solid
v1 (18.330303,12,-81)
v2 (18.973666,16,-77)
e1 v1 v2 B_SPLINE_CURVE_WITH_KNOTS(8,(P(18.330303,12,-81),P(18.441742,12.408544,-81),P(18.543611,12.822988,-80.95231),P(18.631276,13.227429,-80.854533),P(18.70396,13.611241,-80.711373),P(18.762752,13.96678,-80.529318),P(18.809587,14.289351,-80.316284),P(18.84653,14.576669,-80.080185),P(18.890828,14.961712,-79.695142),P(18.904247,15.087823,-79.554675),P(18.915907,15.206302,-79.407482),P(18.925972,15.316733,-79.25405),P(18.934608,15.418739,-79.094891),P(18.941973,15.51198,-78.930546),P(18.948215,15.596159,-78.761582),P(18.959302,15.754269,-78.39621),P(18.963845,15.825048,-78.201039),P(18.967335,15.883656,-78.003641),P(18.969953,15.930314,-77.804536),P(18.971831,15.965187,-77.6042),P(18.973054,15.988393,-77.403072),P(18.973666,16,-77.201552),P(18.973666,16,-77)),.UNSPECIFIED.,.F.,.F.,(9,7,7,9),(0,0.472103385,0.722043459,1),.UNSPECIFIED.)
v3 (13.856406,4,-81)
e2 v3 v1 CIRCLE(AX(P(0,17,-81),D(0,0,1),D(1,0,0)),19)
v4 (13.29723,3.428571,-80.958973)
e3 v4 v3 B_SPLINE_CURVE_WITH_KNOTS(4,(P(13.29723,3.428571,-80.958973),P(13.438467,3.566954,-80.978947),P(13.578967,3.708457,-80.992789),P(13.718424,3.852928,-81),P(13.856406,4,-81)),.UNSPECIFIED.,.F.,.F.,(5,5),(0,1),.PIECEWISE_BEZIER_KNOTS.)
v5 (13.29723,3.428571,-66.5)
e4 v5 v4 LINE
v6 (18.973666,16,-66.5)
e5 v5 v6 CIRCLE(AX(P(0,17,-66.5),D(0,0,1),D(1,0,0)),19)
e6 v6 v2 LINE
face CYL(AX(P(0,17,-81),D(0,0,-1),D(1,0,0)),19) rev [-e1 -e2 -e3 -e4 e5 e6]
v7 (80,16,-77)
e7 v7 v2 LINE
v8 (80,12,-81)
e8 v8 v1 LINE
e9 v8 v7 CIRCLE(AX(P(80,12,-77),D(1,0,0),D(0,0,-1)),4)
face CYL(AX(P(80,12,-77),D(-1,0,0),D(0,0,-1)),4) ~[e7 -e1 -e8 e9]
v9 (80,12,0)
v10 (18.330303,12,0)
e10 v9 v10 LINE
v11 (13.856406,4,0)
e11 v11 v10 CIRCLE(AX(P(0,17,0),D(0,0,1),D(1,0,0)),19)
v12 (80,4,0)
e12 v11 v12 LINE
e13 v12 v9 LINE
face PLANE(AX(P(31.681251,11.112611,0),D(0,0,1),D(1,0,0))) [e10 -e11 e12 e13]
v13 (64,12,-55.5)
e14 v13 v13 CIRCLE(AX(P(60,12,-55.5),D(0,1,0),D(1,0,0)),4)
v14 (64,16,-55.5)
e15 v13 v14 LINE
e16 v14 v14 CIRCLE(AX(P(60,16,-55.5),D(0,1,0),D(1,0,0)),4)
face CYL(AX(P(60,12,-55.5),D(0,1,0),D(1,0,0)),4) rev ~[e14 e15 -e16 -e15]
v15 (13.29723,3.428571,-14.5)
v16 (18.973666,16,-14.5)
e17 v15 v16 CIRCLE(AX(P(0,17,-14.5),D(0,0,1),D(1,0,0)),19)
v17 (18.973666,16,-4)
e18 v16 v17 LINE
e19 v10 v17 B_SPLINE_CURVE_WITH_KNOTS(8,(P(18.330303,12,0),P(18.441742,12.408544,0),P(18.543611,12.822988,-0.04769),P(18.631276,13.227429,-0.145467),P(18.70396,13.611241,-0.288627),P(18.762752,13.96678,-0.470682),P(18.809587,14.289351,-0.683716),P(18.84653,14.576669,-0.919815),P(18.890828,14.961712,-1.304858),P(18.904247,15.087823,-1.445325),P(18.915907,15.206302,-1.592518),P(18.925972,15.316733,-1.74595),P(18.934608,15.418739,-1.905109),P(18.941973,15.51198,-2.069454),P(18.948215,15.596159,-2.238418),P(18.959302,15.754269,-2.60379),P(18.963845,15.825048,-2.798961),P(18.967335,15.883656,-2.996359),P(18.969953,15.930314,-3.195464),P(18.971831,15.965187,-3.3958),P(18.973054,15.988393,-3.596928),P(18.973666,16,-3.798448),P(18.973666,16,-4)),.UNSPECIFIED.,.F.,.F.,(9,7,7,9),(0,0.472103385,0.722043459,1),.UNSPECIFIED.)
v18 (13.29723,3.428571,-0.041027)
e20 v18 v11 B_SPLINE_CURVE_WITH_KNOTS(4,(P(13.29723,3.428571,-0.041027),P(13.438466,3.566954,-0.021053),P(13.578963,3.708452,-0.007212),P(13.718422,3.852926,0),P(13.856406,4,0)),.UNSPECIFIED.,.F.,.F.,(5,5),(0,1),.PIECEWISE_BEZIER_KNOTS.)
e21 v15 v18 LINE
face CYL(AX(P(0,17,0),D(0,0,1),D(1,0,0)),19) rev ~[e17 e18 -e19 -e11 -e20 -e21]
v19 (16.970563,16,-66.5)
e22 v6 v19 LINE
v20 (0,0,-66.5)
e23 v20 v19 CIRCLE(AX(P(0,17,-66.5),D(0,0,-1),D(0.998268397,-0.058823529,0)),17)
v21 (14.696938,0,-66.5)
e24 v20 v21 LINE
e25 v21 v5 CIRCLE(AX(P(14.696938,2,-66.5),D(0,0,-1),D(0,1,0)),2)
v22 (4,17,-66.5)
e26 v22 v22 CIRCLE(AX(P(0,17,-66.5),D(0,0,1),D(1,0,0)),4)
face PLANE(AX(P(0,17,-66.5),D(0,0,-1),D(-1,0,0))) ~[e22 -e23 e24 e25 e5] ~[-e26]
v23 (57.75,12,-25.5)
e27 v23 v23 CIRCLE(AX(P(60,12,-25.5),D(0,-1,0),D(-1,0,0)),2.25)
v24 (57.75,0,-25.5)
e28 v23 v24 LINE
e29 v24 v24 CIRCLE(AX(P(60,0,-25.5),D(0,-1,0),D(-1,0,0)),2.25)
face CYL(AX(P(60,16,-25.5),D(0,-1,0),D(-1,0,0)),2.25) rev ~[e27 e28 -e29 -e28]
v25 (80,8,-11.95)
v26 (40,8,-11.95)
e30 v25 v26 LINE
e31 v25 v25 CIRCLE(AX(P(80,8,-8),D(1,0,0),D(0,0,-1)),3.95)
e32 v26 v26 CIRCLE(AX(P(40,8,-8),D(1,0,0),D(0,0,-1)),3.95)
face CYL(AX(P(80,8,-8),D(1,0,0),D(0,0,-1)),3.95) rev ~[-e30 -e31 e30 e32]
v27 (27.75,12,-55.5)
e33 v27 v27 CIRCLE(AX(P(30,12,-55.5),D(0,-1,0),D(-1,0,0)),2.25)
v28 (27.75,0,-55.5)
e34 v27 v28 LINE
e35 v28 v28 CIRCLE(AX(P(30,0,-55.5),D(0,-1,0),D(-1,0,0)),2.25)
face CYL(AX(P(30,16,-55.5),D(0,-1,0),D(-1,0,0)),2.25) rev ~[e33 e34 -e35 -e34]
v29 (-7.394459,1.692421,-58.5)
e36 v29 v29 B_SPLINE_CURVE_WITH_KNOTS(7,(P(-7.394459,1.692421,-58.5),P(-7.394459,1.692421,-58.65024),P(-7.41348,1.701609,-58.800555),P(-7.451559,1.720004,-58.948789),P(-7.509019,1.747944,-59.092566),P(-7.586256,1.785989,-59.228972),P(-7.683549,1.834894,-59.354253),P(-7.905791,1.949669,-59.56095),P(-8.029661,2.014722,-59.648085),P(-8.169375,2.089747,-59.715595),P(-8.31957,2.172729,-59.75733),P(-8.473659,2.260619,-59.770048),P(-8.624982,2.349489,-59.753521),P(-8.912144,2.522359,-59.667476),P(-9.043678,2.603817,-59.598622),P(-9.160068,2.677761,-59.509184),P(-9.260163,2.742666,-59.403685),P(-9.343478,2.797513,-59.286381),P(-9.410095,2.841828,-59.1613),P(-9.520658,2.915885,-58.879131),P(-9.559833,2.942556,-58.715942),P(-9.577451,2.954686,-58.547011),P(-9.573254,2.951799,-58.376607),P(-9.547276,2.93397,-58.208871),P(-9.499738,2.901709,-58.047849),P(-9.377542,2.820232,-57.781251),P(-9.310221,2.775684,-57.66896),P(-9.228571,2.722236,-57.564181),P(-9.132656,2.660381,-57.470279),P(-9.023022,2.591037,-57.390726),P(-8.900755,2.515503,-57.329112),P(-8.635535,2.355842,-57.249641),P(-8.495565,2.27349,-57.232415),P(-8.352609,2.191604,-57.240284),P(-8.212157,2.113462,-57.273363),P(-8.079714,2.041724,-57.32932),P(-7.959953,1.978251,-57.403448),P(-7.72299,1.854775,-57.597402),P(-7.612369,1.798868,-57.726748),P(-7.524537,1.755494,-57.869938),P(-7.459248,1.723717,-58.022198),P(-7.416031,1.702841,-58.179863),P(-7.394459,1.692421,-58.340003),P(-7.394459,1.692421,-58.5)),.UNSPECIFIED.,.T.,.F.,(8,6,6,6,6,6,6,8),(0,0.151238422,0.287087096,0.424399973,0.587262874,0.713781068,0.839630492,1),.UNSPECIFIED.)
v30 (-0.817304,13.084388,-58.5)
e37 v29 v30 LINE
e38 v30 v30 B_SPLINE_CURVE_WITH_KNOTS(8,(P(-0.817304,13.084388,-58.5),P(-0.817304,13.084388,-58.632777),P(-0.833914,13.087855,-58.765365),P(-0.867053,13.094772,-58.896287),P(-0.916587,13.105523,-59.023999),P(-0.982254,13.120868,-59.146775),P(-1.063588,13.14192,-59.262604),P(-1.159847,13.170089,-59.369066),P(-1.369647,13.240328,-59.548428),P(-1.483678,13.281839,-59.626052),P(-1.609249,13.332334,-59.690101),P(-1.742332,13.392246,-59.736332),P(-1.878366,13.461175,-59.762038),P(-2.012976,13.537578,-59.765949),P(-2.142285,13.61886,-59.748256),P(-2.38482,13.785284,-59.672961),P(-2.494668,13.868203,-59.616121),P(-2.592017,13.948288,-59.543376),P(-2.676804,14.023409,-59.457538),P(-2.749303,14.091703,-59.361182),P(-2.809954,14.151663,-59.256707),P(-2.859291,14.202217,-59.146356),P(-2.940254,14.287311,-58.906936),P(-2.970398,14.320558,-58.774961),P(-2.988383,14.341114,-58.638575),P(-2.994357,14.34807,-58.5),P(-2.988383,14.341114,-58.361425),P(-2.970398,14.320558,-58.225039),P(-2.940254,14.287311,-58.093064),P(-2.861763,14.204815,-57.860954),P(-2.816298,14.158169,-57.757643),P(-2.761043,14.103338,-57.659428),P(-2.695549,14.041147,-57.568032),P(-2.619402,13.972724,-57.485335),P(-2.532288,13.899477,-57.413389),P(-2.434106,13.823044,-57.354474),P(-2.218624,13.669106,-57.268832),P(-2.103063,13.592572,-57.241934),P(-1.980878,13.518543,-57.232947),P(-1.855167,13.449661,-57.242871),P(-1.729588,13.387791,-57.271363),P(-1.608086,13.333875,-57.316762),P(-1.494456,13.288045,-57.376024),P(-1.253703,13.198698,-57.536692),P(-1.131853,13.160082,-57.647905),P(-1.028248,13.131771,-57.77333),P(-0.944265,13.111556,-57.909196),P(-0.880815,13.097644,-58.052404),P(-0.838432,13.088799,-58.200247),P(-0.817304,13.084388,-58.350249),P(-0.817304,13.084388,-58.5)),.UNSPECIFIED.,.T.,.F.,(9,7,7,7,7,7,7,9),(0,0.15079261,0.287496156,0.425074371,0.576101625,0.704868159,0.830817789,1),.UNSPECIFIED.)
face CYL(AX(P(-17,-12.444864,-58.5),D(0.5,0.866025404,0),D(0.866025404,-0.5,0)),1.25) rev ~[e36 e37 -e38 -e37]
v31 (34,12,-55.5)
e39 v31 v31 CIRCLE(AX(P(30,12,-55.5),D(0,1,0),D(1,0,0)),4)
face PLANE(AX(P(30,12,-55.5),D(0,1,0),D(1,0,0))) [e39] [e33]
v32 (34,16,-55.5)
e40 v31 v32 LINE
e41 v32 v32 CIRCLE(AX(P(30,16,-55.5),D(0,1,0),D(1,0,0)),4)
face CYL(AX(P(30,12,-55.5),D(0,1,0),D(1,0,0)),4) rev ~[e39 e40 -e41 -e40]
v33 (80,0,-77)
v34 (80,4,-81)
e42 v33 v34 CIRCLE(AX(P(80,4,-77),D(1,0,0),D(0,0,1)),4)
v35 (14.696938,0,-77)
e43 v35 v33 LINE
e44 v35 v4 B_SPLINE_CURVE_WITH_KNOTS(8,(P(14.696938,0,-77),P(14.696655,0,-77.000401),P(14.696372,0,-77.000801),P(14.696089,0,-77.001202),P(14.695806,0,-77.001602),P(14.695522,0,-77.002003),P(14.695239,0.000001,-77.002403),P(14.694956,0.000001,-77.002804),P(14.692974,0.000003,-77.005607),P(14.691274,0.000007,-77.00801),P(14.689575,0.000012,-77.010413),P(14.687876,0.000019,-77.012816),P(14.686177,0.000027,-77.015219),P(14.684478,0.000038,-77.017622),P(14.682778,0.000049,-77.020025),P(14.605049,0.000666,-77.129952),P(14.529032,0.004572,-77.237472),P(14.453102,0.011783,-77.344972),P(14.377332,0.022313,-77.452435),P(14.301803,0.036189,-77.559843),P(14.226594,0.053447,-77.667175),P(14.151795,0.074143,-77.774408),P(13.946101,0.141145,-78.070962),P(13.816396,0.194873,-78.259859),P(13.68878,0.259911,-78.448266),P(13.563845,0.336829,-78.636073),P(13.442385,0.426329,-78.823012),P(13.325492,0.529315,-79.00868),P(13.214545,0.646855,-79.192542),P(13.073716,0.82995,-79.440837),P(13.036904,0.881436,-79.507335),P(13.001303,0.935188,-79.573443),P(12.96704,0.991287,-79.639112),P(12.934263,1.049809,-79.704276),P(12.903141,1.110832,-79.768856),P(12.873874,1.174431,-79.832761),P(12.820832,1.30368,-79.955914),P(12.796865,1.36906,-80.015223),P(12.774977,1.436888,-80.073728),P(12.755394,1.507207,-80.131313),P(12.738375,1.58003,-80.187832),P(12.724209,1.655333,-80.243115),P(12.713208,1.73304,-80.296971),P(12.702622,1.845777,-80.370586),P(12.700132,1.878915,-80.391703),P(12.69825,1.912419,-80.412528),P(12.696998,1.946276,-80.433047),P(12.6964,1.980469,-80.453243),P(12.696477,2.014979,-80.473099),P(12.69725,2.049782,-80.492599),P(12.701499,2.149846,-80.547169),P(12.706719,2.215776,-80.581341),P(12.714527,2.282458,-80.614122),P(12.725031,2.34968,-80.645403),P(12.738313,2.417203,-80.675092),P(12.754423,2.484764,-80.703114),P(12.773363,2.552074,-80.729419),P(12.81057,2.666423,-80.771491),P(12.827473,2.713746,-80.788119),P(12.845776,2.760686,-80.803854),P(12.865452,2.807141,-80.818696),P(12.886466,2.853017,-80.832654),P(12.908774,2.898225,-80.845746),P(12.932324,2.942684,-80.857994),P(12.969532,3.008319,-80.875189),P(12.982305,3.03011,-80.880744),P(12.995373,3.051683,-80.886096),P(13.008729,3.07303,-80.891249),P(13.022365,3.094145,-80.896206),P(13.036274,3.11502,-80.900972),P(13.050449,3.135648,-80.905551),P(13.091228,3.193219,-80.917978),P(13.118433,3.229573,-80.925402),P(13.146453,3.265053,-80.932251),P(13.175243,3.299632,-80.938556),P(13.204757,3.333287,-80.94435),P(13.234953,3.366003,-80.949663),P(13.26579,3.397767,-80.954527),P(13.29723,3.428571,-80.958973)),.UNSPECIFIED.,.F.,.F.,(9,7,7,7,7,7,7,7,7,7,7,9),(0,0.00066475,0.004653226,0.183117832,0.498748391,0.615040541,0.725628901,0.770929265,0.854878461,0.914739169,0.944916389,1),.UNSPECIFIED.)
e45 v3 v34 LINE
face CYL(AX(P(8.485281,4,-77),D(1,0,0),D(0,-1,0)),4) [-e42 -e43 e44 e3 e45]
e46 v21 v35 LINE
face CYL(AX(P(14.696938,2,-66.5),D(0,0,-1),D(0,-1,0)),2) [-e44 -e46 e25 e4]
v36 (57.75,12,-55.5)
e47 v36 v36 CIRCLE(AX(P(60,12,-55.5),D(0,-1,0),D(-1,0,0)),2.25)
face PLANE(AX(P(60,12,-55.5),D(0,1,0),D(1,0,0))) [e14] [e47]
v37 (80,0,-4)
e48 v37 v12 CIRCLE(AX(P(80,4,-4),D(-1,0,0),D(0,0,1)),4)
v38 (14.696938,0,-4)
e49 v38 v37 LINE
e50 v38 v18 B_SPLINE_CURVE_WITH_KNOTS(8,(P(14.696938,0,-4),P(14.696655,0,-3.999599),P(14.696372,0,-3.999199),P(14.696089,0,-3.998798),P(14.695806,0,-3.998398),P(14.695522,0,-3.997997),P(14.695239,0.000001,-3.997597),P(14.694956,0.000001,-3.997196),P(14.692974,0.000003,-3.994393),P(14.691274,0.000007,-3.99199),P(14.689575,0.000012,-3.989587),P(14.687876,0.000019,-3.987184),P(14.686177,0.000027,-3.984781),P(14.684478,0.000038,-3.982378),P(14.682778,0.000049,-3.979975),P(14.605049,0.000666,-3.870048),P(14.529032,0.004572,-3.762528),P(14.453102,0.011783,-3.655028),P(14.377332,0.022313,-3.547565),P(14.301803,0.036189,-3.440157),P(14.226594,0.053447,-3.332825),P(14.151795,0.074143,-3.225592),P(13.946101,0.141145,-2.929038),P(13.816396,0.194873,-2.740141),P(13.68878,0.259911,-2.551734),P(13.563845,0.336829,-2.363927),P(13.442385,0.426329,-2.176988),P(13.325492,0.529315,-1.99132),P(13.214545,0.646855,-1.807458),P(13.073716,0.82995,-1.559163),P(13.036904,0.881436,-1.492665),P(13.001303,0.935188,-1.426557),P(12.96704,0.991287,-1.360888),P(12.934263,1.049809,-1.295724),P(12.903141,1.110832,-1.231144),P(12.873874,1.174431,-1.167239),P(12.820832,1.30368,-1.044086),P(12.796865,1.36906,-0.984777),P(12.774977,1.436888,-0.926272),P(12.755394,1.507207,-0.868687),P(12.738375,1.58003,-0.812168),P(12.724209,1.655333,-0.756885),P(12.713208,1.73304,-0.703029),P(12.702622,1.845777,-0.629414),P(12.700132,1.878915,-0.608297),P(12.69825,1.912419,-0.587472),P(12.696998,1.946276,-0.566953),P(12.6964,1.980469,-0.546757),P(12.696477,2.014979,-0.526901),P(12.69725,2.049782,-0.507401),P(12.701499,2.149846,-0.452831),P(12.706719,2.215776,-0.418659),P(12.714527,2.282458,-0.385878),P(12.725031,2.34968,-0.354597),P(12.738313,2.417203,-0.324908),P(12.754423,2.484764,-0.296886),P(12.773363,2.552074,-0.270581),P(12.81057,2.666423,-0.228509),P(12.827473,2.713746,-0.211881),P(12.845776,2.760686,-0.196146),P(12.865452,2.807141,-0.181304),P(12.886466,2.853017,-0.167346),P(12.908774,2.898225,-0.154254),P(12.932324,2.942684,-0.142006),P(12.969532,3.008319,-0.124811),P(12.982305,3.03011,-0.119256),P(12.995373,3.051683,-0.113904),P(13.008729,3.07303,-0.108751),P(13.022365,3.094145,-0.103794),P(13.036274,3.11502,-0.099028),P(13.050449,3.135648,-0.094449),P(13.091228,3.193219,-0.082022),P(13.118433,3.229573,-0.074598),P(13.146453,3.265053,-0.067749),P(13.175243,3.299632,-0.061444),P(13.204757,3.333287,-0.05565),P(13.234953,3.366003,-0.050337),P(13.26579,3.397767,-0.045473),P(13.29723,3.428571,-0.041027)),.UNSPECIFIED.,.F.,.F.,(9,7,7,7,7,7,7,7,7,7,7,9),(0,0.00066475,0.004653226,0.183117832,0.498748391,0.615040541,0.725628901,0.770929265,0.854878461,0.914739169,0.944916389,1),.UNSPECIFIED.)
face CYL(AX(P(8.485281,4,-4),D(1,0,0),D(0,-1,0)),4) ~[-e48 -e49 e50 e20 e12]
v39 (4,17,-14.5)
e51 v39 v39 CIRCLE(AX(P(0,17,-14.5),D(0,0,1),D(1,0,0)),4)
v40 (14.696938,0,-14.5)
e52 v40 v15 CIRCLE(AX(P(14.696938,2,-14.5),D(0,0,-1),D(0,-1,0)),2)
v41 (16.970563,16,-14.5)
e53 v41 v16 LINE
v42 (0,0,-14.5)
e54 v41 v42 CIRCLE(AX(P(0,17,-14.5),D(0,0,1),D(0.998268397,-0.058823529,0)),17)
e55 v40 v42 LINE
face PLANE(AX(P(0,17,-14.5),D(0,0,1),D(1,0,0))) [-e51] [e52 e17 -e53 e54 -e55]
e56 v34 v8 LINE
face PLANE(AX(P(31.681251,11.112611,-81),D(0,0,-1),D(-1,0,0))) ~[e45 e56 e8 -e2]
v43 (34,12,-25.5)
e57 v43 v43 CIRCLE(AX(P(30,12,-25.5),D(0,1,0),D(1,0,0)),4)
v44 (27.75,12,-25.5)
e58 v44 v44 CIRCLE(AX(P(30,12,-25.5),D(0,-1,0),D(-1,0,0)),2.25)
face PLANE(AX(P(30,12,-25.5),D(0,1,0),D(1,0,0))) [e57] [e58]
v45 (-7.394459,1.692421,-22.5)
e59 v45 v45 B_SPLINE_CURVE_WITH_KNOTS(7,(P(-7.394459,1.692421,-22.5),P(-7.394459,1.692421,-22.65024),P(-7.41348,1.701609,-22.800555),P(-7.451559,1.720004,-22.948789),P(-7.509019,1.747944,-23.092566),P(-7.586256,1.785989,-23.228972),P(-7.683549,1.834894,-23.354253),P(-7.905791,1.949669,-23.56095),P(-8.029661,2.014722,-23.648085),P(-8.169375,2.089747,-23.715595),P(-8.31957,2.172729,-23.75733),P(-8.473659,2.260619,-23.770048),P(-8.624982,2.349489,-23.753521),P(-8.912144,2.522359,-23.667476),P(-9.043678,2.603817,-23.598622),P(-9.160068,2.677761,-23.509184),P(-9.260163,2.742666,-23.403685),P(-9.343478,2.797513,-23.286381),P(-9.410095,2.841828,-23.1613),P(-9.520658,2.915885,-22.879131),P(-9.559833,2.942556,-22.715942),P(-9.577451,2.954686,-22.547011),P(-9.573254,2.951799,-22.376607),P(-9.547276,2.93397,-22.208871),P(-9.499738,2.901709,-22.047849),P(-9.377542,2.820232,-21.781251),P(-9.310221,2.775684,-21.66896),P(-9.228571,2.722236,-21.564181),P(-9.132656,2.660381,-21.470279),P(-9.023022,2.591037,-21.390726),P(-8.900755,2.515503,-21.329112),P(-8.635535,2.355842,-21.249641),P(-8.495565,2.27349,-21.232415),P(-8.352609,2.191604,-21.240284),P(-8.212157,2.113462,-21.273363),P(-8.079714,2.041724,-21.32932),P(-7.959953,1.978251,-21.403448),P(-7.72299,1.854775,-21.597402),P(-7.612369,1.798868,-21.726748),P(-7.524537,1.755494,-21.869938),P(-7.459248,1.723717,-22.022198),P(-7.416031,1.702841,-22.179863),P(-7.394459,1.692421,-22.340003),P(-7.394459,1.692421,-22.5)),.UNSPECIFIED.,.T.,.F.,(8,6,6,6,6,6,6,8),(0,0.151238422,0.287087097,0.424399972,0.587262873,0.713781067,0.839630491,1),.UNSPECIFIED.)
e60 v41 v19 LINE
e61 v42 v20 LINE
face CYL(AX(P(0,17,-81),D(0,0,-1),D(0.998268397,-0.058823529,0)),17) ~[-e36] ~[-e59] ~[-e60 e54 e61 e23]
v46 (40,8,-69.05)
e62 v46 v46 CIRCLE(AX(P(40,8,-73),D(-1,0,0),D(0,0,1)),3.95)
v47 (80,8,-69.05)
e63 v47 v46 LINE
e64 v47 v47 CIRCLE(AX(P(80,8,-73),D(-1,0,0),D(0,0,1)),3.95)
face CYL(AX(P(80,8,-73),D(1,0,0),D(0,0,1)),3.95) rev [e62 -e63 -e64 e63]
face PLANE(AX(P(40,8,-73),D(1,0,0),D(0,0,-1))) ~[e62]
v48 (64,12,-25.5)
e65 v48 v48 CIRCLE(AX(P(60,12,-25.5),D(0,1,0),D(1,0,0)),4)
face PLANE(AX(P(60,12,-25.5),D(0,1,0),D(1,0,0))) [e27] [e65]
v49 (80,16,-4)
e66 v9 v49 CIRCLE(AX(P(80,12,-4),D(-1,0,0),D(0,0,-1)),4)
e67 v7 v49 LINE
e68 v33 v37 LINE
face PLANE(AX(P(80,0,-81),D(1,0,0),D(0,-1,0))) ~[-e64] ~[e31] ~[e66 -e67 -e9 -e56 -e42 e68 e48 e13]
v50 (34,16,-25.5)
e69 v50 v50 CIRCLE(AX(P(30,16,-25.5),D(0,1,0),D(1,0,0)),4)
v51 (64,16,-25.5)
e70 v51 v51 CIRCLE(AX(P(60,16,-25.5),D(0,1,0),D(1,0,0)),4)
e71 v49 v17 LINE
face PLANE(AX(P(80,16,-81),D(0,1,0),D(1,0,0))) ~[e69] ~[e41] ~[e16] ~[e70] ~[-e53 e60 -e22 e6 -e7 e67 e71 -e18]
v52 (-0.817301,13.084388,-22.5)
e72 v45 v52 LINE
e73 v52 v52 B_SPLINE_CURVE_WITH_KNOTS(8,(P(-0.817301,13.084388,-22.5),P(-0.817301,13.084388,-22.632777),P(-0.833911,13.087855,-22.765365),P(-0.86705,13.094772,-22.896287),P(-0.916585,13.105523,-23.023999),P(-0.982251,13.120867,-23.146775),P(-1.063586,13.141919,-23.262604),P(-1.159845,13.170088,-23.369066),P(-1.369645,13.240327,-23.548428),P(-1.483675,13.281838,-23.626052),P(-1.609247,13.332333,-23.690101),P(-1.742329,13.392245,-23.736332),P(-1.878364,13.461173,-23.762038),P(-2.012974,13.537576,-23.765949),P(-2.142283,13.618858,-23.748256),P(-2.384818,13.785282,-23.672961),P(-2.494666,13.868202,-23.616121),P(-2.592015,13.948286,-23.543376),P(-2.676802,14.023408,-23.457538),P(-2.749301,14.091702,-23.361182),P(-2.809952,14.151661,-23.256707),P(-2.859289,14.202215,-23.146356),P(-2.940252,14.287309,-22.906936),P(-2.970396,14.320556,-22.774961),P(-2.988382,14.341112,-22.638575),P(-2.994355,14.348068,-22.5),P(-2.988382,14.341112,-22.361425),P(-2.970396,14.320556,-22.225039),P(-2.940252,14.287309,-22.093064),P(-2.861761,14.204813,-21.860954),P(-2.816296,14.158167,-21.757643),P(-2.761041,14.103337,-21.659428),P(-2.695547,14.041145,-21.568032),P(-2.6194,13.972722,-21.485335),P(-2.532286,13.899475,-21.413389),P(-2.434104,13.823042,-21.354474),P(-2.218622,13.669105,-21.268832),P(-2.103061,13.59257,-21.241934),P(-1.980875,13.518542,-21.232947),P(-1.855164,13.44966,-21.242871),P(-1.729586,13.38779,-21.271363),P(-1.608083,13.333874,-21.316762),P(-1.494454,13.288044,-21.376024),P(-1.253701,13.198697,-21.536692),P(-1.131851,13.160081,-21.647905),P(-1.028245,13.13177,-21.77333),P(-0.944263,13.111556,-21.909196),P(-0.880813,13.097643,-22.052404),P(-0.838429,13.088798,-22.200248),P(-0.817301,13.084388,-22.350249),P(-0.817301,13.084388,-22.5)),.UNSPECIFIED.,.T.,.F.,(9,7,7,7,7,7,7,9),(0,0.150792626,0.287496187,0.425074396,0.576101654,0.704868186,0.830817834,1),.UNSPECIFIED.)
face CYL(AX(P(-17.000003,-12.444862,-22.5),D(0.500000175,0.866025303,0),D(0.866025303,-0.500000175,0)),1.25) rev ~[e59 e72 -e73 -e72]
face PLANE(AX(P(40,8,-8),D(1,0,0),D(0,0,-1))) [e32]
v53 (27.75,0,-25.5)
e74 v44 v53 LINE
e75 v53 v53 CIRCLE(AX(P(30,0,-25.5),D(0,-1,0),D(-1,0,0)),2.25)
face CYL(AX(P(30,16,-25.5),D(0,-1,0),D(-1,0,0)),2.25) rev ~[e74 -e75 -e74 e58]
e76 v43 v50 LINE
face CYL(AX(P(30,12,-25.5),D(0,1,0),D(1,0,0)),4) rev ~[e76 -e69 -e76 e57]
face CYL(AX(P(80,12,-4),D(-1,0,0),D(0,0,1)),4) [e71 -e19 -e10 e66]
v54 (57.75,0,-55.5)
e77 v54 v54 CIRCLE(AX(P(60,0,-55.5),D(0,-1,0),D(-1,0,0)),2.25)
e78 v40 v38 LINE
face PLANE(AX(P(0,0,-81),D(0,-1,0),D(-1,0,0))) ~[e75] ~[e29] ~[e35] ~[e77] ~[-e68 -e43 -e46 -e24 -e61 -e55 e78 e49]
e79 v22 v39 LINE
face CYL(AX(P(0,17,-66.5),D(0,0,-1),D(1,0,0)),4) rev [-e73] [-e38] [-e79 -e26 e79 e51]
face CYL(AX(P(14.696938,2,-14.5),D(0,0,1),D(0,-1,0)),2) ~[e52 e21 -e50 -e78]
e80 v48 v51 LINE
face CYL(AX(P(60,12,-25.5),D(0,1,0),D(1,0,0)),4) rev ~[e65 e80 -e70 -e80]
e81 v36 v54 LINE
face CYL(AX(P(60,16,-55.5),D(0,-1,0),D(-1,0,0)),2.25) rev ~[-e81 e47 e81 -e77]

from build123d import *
from OCP.BRepFilletAPI import BRepFilletAPI_MakeFillet

# Parameters (mm, degrees)
BOSS_EXTRUDE2_DEPTH             = 40.5
SKETCH18_R                      = 19
CUT_EXTRUDE7_DEPTH              = 14.5
CUT_EXTRUDE8_REACH              = 92.73
SKETCH19_R                      = 4
SKETCH20_R                      = 3.95
CUT_EXTRUDE10_DEPTH             = 40
FILLET2_R1                      = 4
FILLET2_R2                      = 2
CBORE_FOR_M4_SHCS1_D            = 4.5
CBORE_FOR_M4_SHCS1_CBORE_D      = 8
CBORE_FOR_M4_SHCS1_CBORE_DEPTH  = 4
M3_TAPPED_HOLE1_D               = 2.5
M3_TAPPED_HOLE1_DEPTH           = 17
M3_TAPPED_HOLE1_ON_FACE_2_D     = 2.5
M3_TAPPED_HOLE1_ON_FACE_2_DEPTH = 17


with BuildPart() as part:
    # Sketch11 → Boss-Extrude2 (new body)
    with BuildSketch(Plane.XY):
        with BuildLine():
            Line((0, 0), (80, 0))
            Line((80, 0), (80, 16))
            Line((80, 16), (16.970562748, 16))
            ThreePointArc((16.970562748, 16), (-11.66190379, 29.369316877), (0, 0))
        make_face()
    boss_extrude2 = extrude(amount=-BOSS_EXTRUDE2_DEPTH)

    # Sketch18 → Cut-Extrude7 (cut)
    with BuildSketch(Plane.XY):
        with Locations((0, 17)):
            Circle(SKETCH18_R)
    cut_extrude7 = extrude(amount=-CUT_EXTRUDE7_DEPTH, mode=Mode.SUBTRACT)

    # Sketch19 → Cut-Extrude8 (cut, up to next)
    with BuildSketch(Plane.XY.offset(-14.5), mode=Mode.PRIVATE) as cut_extrude8_sk1:
        with Locations((0, 17)):
            Circle(SKETCH19_R)
    cut_extrude8_tool1 = extrude(cut_extrude8_sk1.sketch, amount=-CUT_EXTRUDE8_REACH, mode=Mode.PRIVATE) & part.part
    cut_extrude8 = cut_extrude8_tool1.solids().sort_by_distance((0, 17, -14.5))[0]
    add(cut_extrude8, mode=Mode.SUBTRACT)

    # Sketch20 → Cut-Extrude10 (cut)
    with BuildSketch(Plane(origin=(80, 0, 0), x_dir=(0, 0, -1), z_dir=(1, 0, 0))):
        with Locations((8, 8)):
            Circle(SKETCH20_R)
    cut_extrude10 = extrude(amount=-CUT_EXTRUDE10_DEPTH, mode=Mode.SUBTRACT)

    # Mirror2: Boss-Extrude2, Cut-Extrude7, Cut-Extrude8, Cut-Extrude10 across plane
    add(boss_extrude2.mirror(Plane(origin=(0, 17, -40.5), x_dir=(1, 0, 0), z_dir=(0, 0, -1))))
    add(cut_extrude7.mirror(Plane(origin=(0, 17, -40.5), x_dir=(1, 0, 0), z_dir=(0, 0, -1))), mode=Mode.SUBTRACT)
    add(cut_extrude8.mirror(Plane(origin=(0, 17, -40.5), x_dir=(1, 0, 0), z_dir=(0, 0, -1))), mode=Mode.SUBTRACT)
    add(cut_extrude10.mirror(Plane(origin=(0, 17, -40.5), x_dir=(1, 0, 0), z_dir=(0, 0, -1))), mode=Mode.SUBTRACT)

    # Fillet2: one fillet with a radius per group of edges: ONE call of the kernel's fillet builder (fillet() takes one radius for all edges)
    fillet2_edges_1 = [part.edges().sort_by_distance(p)[0] for p in [
        (44.242640687, 0, 0),
        (49.486832981, 16, -81),
        (49.486832981, 16, 0),
        (44.242640687, 0, -81),
    ]]
    fillet2_edges_2 = [part.edges().sort_by_distance(p)[0] for p in [
        (8.485281374, 0, -7.25),
        (8.485281374, 0, -73.75),
    ]]
    fillet2 = BRepFilletAPI_MakeFillet(part.part.solid().wrapped)
    for e in fillet2_edges_1:
        fillet2.Add(FILLET2_R1, e.wrapped)
    for e in fillet2_edges_2:
        fillet2.Add(FILLET2_R2, e.wrapped)
    add(Compound.cast(fillet2.Shape()), mode=Mode.REPLACE)

    # CBORE for M4 SHCS1 (through all)
    with Locations(Plane(origin=(0, 16, 0), x_dir=(1, 0, 0), z_dir=(0, 1, 0))):
        with Locations((60, 55.5), (60, 25.5), (30, 25.5), (30, 55.5)):
            CounterBoreHole(CBORE_FOR_M4_SHCS1_D / 2, CBORE_FOR_M4_SHCS1_CBORE_D / 2, CBORE_FOR_M4_SHCS1_CBORE_DEPTH)

    # M3 Tapped Hole1
    with Locations(Plane(origin=(-8.5, 2.277568136, -58.5), x_dir=(-0.866025403784, 0.5, 0), z_dir=(-0.5, -0.866025403784, 0))):
        with Locations((0, 0)):
            Hole(M3_TAPPED_HOLE1_D / 2, depth=M3_TAPPED_HOLE1_DEPTH)

    # M3 Tapped Hole1 on face 2
    with Locations(Plane(origin=(-8.5, 2.277568136, -22.5), x_dir=(-0.866025302838, 0.500000174844, 0), z_dir=(-0.500000174844, -0.866025302838, 0))):
        with Locations((0, 0)):
            Hole(M3_TAPPED_HOLE1_ON_FACE_2_D / 2, depth=M3_TAPPED_HOLE1_ON_FACE_2_DEPTH)


solid = part.part
